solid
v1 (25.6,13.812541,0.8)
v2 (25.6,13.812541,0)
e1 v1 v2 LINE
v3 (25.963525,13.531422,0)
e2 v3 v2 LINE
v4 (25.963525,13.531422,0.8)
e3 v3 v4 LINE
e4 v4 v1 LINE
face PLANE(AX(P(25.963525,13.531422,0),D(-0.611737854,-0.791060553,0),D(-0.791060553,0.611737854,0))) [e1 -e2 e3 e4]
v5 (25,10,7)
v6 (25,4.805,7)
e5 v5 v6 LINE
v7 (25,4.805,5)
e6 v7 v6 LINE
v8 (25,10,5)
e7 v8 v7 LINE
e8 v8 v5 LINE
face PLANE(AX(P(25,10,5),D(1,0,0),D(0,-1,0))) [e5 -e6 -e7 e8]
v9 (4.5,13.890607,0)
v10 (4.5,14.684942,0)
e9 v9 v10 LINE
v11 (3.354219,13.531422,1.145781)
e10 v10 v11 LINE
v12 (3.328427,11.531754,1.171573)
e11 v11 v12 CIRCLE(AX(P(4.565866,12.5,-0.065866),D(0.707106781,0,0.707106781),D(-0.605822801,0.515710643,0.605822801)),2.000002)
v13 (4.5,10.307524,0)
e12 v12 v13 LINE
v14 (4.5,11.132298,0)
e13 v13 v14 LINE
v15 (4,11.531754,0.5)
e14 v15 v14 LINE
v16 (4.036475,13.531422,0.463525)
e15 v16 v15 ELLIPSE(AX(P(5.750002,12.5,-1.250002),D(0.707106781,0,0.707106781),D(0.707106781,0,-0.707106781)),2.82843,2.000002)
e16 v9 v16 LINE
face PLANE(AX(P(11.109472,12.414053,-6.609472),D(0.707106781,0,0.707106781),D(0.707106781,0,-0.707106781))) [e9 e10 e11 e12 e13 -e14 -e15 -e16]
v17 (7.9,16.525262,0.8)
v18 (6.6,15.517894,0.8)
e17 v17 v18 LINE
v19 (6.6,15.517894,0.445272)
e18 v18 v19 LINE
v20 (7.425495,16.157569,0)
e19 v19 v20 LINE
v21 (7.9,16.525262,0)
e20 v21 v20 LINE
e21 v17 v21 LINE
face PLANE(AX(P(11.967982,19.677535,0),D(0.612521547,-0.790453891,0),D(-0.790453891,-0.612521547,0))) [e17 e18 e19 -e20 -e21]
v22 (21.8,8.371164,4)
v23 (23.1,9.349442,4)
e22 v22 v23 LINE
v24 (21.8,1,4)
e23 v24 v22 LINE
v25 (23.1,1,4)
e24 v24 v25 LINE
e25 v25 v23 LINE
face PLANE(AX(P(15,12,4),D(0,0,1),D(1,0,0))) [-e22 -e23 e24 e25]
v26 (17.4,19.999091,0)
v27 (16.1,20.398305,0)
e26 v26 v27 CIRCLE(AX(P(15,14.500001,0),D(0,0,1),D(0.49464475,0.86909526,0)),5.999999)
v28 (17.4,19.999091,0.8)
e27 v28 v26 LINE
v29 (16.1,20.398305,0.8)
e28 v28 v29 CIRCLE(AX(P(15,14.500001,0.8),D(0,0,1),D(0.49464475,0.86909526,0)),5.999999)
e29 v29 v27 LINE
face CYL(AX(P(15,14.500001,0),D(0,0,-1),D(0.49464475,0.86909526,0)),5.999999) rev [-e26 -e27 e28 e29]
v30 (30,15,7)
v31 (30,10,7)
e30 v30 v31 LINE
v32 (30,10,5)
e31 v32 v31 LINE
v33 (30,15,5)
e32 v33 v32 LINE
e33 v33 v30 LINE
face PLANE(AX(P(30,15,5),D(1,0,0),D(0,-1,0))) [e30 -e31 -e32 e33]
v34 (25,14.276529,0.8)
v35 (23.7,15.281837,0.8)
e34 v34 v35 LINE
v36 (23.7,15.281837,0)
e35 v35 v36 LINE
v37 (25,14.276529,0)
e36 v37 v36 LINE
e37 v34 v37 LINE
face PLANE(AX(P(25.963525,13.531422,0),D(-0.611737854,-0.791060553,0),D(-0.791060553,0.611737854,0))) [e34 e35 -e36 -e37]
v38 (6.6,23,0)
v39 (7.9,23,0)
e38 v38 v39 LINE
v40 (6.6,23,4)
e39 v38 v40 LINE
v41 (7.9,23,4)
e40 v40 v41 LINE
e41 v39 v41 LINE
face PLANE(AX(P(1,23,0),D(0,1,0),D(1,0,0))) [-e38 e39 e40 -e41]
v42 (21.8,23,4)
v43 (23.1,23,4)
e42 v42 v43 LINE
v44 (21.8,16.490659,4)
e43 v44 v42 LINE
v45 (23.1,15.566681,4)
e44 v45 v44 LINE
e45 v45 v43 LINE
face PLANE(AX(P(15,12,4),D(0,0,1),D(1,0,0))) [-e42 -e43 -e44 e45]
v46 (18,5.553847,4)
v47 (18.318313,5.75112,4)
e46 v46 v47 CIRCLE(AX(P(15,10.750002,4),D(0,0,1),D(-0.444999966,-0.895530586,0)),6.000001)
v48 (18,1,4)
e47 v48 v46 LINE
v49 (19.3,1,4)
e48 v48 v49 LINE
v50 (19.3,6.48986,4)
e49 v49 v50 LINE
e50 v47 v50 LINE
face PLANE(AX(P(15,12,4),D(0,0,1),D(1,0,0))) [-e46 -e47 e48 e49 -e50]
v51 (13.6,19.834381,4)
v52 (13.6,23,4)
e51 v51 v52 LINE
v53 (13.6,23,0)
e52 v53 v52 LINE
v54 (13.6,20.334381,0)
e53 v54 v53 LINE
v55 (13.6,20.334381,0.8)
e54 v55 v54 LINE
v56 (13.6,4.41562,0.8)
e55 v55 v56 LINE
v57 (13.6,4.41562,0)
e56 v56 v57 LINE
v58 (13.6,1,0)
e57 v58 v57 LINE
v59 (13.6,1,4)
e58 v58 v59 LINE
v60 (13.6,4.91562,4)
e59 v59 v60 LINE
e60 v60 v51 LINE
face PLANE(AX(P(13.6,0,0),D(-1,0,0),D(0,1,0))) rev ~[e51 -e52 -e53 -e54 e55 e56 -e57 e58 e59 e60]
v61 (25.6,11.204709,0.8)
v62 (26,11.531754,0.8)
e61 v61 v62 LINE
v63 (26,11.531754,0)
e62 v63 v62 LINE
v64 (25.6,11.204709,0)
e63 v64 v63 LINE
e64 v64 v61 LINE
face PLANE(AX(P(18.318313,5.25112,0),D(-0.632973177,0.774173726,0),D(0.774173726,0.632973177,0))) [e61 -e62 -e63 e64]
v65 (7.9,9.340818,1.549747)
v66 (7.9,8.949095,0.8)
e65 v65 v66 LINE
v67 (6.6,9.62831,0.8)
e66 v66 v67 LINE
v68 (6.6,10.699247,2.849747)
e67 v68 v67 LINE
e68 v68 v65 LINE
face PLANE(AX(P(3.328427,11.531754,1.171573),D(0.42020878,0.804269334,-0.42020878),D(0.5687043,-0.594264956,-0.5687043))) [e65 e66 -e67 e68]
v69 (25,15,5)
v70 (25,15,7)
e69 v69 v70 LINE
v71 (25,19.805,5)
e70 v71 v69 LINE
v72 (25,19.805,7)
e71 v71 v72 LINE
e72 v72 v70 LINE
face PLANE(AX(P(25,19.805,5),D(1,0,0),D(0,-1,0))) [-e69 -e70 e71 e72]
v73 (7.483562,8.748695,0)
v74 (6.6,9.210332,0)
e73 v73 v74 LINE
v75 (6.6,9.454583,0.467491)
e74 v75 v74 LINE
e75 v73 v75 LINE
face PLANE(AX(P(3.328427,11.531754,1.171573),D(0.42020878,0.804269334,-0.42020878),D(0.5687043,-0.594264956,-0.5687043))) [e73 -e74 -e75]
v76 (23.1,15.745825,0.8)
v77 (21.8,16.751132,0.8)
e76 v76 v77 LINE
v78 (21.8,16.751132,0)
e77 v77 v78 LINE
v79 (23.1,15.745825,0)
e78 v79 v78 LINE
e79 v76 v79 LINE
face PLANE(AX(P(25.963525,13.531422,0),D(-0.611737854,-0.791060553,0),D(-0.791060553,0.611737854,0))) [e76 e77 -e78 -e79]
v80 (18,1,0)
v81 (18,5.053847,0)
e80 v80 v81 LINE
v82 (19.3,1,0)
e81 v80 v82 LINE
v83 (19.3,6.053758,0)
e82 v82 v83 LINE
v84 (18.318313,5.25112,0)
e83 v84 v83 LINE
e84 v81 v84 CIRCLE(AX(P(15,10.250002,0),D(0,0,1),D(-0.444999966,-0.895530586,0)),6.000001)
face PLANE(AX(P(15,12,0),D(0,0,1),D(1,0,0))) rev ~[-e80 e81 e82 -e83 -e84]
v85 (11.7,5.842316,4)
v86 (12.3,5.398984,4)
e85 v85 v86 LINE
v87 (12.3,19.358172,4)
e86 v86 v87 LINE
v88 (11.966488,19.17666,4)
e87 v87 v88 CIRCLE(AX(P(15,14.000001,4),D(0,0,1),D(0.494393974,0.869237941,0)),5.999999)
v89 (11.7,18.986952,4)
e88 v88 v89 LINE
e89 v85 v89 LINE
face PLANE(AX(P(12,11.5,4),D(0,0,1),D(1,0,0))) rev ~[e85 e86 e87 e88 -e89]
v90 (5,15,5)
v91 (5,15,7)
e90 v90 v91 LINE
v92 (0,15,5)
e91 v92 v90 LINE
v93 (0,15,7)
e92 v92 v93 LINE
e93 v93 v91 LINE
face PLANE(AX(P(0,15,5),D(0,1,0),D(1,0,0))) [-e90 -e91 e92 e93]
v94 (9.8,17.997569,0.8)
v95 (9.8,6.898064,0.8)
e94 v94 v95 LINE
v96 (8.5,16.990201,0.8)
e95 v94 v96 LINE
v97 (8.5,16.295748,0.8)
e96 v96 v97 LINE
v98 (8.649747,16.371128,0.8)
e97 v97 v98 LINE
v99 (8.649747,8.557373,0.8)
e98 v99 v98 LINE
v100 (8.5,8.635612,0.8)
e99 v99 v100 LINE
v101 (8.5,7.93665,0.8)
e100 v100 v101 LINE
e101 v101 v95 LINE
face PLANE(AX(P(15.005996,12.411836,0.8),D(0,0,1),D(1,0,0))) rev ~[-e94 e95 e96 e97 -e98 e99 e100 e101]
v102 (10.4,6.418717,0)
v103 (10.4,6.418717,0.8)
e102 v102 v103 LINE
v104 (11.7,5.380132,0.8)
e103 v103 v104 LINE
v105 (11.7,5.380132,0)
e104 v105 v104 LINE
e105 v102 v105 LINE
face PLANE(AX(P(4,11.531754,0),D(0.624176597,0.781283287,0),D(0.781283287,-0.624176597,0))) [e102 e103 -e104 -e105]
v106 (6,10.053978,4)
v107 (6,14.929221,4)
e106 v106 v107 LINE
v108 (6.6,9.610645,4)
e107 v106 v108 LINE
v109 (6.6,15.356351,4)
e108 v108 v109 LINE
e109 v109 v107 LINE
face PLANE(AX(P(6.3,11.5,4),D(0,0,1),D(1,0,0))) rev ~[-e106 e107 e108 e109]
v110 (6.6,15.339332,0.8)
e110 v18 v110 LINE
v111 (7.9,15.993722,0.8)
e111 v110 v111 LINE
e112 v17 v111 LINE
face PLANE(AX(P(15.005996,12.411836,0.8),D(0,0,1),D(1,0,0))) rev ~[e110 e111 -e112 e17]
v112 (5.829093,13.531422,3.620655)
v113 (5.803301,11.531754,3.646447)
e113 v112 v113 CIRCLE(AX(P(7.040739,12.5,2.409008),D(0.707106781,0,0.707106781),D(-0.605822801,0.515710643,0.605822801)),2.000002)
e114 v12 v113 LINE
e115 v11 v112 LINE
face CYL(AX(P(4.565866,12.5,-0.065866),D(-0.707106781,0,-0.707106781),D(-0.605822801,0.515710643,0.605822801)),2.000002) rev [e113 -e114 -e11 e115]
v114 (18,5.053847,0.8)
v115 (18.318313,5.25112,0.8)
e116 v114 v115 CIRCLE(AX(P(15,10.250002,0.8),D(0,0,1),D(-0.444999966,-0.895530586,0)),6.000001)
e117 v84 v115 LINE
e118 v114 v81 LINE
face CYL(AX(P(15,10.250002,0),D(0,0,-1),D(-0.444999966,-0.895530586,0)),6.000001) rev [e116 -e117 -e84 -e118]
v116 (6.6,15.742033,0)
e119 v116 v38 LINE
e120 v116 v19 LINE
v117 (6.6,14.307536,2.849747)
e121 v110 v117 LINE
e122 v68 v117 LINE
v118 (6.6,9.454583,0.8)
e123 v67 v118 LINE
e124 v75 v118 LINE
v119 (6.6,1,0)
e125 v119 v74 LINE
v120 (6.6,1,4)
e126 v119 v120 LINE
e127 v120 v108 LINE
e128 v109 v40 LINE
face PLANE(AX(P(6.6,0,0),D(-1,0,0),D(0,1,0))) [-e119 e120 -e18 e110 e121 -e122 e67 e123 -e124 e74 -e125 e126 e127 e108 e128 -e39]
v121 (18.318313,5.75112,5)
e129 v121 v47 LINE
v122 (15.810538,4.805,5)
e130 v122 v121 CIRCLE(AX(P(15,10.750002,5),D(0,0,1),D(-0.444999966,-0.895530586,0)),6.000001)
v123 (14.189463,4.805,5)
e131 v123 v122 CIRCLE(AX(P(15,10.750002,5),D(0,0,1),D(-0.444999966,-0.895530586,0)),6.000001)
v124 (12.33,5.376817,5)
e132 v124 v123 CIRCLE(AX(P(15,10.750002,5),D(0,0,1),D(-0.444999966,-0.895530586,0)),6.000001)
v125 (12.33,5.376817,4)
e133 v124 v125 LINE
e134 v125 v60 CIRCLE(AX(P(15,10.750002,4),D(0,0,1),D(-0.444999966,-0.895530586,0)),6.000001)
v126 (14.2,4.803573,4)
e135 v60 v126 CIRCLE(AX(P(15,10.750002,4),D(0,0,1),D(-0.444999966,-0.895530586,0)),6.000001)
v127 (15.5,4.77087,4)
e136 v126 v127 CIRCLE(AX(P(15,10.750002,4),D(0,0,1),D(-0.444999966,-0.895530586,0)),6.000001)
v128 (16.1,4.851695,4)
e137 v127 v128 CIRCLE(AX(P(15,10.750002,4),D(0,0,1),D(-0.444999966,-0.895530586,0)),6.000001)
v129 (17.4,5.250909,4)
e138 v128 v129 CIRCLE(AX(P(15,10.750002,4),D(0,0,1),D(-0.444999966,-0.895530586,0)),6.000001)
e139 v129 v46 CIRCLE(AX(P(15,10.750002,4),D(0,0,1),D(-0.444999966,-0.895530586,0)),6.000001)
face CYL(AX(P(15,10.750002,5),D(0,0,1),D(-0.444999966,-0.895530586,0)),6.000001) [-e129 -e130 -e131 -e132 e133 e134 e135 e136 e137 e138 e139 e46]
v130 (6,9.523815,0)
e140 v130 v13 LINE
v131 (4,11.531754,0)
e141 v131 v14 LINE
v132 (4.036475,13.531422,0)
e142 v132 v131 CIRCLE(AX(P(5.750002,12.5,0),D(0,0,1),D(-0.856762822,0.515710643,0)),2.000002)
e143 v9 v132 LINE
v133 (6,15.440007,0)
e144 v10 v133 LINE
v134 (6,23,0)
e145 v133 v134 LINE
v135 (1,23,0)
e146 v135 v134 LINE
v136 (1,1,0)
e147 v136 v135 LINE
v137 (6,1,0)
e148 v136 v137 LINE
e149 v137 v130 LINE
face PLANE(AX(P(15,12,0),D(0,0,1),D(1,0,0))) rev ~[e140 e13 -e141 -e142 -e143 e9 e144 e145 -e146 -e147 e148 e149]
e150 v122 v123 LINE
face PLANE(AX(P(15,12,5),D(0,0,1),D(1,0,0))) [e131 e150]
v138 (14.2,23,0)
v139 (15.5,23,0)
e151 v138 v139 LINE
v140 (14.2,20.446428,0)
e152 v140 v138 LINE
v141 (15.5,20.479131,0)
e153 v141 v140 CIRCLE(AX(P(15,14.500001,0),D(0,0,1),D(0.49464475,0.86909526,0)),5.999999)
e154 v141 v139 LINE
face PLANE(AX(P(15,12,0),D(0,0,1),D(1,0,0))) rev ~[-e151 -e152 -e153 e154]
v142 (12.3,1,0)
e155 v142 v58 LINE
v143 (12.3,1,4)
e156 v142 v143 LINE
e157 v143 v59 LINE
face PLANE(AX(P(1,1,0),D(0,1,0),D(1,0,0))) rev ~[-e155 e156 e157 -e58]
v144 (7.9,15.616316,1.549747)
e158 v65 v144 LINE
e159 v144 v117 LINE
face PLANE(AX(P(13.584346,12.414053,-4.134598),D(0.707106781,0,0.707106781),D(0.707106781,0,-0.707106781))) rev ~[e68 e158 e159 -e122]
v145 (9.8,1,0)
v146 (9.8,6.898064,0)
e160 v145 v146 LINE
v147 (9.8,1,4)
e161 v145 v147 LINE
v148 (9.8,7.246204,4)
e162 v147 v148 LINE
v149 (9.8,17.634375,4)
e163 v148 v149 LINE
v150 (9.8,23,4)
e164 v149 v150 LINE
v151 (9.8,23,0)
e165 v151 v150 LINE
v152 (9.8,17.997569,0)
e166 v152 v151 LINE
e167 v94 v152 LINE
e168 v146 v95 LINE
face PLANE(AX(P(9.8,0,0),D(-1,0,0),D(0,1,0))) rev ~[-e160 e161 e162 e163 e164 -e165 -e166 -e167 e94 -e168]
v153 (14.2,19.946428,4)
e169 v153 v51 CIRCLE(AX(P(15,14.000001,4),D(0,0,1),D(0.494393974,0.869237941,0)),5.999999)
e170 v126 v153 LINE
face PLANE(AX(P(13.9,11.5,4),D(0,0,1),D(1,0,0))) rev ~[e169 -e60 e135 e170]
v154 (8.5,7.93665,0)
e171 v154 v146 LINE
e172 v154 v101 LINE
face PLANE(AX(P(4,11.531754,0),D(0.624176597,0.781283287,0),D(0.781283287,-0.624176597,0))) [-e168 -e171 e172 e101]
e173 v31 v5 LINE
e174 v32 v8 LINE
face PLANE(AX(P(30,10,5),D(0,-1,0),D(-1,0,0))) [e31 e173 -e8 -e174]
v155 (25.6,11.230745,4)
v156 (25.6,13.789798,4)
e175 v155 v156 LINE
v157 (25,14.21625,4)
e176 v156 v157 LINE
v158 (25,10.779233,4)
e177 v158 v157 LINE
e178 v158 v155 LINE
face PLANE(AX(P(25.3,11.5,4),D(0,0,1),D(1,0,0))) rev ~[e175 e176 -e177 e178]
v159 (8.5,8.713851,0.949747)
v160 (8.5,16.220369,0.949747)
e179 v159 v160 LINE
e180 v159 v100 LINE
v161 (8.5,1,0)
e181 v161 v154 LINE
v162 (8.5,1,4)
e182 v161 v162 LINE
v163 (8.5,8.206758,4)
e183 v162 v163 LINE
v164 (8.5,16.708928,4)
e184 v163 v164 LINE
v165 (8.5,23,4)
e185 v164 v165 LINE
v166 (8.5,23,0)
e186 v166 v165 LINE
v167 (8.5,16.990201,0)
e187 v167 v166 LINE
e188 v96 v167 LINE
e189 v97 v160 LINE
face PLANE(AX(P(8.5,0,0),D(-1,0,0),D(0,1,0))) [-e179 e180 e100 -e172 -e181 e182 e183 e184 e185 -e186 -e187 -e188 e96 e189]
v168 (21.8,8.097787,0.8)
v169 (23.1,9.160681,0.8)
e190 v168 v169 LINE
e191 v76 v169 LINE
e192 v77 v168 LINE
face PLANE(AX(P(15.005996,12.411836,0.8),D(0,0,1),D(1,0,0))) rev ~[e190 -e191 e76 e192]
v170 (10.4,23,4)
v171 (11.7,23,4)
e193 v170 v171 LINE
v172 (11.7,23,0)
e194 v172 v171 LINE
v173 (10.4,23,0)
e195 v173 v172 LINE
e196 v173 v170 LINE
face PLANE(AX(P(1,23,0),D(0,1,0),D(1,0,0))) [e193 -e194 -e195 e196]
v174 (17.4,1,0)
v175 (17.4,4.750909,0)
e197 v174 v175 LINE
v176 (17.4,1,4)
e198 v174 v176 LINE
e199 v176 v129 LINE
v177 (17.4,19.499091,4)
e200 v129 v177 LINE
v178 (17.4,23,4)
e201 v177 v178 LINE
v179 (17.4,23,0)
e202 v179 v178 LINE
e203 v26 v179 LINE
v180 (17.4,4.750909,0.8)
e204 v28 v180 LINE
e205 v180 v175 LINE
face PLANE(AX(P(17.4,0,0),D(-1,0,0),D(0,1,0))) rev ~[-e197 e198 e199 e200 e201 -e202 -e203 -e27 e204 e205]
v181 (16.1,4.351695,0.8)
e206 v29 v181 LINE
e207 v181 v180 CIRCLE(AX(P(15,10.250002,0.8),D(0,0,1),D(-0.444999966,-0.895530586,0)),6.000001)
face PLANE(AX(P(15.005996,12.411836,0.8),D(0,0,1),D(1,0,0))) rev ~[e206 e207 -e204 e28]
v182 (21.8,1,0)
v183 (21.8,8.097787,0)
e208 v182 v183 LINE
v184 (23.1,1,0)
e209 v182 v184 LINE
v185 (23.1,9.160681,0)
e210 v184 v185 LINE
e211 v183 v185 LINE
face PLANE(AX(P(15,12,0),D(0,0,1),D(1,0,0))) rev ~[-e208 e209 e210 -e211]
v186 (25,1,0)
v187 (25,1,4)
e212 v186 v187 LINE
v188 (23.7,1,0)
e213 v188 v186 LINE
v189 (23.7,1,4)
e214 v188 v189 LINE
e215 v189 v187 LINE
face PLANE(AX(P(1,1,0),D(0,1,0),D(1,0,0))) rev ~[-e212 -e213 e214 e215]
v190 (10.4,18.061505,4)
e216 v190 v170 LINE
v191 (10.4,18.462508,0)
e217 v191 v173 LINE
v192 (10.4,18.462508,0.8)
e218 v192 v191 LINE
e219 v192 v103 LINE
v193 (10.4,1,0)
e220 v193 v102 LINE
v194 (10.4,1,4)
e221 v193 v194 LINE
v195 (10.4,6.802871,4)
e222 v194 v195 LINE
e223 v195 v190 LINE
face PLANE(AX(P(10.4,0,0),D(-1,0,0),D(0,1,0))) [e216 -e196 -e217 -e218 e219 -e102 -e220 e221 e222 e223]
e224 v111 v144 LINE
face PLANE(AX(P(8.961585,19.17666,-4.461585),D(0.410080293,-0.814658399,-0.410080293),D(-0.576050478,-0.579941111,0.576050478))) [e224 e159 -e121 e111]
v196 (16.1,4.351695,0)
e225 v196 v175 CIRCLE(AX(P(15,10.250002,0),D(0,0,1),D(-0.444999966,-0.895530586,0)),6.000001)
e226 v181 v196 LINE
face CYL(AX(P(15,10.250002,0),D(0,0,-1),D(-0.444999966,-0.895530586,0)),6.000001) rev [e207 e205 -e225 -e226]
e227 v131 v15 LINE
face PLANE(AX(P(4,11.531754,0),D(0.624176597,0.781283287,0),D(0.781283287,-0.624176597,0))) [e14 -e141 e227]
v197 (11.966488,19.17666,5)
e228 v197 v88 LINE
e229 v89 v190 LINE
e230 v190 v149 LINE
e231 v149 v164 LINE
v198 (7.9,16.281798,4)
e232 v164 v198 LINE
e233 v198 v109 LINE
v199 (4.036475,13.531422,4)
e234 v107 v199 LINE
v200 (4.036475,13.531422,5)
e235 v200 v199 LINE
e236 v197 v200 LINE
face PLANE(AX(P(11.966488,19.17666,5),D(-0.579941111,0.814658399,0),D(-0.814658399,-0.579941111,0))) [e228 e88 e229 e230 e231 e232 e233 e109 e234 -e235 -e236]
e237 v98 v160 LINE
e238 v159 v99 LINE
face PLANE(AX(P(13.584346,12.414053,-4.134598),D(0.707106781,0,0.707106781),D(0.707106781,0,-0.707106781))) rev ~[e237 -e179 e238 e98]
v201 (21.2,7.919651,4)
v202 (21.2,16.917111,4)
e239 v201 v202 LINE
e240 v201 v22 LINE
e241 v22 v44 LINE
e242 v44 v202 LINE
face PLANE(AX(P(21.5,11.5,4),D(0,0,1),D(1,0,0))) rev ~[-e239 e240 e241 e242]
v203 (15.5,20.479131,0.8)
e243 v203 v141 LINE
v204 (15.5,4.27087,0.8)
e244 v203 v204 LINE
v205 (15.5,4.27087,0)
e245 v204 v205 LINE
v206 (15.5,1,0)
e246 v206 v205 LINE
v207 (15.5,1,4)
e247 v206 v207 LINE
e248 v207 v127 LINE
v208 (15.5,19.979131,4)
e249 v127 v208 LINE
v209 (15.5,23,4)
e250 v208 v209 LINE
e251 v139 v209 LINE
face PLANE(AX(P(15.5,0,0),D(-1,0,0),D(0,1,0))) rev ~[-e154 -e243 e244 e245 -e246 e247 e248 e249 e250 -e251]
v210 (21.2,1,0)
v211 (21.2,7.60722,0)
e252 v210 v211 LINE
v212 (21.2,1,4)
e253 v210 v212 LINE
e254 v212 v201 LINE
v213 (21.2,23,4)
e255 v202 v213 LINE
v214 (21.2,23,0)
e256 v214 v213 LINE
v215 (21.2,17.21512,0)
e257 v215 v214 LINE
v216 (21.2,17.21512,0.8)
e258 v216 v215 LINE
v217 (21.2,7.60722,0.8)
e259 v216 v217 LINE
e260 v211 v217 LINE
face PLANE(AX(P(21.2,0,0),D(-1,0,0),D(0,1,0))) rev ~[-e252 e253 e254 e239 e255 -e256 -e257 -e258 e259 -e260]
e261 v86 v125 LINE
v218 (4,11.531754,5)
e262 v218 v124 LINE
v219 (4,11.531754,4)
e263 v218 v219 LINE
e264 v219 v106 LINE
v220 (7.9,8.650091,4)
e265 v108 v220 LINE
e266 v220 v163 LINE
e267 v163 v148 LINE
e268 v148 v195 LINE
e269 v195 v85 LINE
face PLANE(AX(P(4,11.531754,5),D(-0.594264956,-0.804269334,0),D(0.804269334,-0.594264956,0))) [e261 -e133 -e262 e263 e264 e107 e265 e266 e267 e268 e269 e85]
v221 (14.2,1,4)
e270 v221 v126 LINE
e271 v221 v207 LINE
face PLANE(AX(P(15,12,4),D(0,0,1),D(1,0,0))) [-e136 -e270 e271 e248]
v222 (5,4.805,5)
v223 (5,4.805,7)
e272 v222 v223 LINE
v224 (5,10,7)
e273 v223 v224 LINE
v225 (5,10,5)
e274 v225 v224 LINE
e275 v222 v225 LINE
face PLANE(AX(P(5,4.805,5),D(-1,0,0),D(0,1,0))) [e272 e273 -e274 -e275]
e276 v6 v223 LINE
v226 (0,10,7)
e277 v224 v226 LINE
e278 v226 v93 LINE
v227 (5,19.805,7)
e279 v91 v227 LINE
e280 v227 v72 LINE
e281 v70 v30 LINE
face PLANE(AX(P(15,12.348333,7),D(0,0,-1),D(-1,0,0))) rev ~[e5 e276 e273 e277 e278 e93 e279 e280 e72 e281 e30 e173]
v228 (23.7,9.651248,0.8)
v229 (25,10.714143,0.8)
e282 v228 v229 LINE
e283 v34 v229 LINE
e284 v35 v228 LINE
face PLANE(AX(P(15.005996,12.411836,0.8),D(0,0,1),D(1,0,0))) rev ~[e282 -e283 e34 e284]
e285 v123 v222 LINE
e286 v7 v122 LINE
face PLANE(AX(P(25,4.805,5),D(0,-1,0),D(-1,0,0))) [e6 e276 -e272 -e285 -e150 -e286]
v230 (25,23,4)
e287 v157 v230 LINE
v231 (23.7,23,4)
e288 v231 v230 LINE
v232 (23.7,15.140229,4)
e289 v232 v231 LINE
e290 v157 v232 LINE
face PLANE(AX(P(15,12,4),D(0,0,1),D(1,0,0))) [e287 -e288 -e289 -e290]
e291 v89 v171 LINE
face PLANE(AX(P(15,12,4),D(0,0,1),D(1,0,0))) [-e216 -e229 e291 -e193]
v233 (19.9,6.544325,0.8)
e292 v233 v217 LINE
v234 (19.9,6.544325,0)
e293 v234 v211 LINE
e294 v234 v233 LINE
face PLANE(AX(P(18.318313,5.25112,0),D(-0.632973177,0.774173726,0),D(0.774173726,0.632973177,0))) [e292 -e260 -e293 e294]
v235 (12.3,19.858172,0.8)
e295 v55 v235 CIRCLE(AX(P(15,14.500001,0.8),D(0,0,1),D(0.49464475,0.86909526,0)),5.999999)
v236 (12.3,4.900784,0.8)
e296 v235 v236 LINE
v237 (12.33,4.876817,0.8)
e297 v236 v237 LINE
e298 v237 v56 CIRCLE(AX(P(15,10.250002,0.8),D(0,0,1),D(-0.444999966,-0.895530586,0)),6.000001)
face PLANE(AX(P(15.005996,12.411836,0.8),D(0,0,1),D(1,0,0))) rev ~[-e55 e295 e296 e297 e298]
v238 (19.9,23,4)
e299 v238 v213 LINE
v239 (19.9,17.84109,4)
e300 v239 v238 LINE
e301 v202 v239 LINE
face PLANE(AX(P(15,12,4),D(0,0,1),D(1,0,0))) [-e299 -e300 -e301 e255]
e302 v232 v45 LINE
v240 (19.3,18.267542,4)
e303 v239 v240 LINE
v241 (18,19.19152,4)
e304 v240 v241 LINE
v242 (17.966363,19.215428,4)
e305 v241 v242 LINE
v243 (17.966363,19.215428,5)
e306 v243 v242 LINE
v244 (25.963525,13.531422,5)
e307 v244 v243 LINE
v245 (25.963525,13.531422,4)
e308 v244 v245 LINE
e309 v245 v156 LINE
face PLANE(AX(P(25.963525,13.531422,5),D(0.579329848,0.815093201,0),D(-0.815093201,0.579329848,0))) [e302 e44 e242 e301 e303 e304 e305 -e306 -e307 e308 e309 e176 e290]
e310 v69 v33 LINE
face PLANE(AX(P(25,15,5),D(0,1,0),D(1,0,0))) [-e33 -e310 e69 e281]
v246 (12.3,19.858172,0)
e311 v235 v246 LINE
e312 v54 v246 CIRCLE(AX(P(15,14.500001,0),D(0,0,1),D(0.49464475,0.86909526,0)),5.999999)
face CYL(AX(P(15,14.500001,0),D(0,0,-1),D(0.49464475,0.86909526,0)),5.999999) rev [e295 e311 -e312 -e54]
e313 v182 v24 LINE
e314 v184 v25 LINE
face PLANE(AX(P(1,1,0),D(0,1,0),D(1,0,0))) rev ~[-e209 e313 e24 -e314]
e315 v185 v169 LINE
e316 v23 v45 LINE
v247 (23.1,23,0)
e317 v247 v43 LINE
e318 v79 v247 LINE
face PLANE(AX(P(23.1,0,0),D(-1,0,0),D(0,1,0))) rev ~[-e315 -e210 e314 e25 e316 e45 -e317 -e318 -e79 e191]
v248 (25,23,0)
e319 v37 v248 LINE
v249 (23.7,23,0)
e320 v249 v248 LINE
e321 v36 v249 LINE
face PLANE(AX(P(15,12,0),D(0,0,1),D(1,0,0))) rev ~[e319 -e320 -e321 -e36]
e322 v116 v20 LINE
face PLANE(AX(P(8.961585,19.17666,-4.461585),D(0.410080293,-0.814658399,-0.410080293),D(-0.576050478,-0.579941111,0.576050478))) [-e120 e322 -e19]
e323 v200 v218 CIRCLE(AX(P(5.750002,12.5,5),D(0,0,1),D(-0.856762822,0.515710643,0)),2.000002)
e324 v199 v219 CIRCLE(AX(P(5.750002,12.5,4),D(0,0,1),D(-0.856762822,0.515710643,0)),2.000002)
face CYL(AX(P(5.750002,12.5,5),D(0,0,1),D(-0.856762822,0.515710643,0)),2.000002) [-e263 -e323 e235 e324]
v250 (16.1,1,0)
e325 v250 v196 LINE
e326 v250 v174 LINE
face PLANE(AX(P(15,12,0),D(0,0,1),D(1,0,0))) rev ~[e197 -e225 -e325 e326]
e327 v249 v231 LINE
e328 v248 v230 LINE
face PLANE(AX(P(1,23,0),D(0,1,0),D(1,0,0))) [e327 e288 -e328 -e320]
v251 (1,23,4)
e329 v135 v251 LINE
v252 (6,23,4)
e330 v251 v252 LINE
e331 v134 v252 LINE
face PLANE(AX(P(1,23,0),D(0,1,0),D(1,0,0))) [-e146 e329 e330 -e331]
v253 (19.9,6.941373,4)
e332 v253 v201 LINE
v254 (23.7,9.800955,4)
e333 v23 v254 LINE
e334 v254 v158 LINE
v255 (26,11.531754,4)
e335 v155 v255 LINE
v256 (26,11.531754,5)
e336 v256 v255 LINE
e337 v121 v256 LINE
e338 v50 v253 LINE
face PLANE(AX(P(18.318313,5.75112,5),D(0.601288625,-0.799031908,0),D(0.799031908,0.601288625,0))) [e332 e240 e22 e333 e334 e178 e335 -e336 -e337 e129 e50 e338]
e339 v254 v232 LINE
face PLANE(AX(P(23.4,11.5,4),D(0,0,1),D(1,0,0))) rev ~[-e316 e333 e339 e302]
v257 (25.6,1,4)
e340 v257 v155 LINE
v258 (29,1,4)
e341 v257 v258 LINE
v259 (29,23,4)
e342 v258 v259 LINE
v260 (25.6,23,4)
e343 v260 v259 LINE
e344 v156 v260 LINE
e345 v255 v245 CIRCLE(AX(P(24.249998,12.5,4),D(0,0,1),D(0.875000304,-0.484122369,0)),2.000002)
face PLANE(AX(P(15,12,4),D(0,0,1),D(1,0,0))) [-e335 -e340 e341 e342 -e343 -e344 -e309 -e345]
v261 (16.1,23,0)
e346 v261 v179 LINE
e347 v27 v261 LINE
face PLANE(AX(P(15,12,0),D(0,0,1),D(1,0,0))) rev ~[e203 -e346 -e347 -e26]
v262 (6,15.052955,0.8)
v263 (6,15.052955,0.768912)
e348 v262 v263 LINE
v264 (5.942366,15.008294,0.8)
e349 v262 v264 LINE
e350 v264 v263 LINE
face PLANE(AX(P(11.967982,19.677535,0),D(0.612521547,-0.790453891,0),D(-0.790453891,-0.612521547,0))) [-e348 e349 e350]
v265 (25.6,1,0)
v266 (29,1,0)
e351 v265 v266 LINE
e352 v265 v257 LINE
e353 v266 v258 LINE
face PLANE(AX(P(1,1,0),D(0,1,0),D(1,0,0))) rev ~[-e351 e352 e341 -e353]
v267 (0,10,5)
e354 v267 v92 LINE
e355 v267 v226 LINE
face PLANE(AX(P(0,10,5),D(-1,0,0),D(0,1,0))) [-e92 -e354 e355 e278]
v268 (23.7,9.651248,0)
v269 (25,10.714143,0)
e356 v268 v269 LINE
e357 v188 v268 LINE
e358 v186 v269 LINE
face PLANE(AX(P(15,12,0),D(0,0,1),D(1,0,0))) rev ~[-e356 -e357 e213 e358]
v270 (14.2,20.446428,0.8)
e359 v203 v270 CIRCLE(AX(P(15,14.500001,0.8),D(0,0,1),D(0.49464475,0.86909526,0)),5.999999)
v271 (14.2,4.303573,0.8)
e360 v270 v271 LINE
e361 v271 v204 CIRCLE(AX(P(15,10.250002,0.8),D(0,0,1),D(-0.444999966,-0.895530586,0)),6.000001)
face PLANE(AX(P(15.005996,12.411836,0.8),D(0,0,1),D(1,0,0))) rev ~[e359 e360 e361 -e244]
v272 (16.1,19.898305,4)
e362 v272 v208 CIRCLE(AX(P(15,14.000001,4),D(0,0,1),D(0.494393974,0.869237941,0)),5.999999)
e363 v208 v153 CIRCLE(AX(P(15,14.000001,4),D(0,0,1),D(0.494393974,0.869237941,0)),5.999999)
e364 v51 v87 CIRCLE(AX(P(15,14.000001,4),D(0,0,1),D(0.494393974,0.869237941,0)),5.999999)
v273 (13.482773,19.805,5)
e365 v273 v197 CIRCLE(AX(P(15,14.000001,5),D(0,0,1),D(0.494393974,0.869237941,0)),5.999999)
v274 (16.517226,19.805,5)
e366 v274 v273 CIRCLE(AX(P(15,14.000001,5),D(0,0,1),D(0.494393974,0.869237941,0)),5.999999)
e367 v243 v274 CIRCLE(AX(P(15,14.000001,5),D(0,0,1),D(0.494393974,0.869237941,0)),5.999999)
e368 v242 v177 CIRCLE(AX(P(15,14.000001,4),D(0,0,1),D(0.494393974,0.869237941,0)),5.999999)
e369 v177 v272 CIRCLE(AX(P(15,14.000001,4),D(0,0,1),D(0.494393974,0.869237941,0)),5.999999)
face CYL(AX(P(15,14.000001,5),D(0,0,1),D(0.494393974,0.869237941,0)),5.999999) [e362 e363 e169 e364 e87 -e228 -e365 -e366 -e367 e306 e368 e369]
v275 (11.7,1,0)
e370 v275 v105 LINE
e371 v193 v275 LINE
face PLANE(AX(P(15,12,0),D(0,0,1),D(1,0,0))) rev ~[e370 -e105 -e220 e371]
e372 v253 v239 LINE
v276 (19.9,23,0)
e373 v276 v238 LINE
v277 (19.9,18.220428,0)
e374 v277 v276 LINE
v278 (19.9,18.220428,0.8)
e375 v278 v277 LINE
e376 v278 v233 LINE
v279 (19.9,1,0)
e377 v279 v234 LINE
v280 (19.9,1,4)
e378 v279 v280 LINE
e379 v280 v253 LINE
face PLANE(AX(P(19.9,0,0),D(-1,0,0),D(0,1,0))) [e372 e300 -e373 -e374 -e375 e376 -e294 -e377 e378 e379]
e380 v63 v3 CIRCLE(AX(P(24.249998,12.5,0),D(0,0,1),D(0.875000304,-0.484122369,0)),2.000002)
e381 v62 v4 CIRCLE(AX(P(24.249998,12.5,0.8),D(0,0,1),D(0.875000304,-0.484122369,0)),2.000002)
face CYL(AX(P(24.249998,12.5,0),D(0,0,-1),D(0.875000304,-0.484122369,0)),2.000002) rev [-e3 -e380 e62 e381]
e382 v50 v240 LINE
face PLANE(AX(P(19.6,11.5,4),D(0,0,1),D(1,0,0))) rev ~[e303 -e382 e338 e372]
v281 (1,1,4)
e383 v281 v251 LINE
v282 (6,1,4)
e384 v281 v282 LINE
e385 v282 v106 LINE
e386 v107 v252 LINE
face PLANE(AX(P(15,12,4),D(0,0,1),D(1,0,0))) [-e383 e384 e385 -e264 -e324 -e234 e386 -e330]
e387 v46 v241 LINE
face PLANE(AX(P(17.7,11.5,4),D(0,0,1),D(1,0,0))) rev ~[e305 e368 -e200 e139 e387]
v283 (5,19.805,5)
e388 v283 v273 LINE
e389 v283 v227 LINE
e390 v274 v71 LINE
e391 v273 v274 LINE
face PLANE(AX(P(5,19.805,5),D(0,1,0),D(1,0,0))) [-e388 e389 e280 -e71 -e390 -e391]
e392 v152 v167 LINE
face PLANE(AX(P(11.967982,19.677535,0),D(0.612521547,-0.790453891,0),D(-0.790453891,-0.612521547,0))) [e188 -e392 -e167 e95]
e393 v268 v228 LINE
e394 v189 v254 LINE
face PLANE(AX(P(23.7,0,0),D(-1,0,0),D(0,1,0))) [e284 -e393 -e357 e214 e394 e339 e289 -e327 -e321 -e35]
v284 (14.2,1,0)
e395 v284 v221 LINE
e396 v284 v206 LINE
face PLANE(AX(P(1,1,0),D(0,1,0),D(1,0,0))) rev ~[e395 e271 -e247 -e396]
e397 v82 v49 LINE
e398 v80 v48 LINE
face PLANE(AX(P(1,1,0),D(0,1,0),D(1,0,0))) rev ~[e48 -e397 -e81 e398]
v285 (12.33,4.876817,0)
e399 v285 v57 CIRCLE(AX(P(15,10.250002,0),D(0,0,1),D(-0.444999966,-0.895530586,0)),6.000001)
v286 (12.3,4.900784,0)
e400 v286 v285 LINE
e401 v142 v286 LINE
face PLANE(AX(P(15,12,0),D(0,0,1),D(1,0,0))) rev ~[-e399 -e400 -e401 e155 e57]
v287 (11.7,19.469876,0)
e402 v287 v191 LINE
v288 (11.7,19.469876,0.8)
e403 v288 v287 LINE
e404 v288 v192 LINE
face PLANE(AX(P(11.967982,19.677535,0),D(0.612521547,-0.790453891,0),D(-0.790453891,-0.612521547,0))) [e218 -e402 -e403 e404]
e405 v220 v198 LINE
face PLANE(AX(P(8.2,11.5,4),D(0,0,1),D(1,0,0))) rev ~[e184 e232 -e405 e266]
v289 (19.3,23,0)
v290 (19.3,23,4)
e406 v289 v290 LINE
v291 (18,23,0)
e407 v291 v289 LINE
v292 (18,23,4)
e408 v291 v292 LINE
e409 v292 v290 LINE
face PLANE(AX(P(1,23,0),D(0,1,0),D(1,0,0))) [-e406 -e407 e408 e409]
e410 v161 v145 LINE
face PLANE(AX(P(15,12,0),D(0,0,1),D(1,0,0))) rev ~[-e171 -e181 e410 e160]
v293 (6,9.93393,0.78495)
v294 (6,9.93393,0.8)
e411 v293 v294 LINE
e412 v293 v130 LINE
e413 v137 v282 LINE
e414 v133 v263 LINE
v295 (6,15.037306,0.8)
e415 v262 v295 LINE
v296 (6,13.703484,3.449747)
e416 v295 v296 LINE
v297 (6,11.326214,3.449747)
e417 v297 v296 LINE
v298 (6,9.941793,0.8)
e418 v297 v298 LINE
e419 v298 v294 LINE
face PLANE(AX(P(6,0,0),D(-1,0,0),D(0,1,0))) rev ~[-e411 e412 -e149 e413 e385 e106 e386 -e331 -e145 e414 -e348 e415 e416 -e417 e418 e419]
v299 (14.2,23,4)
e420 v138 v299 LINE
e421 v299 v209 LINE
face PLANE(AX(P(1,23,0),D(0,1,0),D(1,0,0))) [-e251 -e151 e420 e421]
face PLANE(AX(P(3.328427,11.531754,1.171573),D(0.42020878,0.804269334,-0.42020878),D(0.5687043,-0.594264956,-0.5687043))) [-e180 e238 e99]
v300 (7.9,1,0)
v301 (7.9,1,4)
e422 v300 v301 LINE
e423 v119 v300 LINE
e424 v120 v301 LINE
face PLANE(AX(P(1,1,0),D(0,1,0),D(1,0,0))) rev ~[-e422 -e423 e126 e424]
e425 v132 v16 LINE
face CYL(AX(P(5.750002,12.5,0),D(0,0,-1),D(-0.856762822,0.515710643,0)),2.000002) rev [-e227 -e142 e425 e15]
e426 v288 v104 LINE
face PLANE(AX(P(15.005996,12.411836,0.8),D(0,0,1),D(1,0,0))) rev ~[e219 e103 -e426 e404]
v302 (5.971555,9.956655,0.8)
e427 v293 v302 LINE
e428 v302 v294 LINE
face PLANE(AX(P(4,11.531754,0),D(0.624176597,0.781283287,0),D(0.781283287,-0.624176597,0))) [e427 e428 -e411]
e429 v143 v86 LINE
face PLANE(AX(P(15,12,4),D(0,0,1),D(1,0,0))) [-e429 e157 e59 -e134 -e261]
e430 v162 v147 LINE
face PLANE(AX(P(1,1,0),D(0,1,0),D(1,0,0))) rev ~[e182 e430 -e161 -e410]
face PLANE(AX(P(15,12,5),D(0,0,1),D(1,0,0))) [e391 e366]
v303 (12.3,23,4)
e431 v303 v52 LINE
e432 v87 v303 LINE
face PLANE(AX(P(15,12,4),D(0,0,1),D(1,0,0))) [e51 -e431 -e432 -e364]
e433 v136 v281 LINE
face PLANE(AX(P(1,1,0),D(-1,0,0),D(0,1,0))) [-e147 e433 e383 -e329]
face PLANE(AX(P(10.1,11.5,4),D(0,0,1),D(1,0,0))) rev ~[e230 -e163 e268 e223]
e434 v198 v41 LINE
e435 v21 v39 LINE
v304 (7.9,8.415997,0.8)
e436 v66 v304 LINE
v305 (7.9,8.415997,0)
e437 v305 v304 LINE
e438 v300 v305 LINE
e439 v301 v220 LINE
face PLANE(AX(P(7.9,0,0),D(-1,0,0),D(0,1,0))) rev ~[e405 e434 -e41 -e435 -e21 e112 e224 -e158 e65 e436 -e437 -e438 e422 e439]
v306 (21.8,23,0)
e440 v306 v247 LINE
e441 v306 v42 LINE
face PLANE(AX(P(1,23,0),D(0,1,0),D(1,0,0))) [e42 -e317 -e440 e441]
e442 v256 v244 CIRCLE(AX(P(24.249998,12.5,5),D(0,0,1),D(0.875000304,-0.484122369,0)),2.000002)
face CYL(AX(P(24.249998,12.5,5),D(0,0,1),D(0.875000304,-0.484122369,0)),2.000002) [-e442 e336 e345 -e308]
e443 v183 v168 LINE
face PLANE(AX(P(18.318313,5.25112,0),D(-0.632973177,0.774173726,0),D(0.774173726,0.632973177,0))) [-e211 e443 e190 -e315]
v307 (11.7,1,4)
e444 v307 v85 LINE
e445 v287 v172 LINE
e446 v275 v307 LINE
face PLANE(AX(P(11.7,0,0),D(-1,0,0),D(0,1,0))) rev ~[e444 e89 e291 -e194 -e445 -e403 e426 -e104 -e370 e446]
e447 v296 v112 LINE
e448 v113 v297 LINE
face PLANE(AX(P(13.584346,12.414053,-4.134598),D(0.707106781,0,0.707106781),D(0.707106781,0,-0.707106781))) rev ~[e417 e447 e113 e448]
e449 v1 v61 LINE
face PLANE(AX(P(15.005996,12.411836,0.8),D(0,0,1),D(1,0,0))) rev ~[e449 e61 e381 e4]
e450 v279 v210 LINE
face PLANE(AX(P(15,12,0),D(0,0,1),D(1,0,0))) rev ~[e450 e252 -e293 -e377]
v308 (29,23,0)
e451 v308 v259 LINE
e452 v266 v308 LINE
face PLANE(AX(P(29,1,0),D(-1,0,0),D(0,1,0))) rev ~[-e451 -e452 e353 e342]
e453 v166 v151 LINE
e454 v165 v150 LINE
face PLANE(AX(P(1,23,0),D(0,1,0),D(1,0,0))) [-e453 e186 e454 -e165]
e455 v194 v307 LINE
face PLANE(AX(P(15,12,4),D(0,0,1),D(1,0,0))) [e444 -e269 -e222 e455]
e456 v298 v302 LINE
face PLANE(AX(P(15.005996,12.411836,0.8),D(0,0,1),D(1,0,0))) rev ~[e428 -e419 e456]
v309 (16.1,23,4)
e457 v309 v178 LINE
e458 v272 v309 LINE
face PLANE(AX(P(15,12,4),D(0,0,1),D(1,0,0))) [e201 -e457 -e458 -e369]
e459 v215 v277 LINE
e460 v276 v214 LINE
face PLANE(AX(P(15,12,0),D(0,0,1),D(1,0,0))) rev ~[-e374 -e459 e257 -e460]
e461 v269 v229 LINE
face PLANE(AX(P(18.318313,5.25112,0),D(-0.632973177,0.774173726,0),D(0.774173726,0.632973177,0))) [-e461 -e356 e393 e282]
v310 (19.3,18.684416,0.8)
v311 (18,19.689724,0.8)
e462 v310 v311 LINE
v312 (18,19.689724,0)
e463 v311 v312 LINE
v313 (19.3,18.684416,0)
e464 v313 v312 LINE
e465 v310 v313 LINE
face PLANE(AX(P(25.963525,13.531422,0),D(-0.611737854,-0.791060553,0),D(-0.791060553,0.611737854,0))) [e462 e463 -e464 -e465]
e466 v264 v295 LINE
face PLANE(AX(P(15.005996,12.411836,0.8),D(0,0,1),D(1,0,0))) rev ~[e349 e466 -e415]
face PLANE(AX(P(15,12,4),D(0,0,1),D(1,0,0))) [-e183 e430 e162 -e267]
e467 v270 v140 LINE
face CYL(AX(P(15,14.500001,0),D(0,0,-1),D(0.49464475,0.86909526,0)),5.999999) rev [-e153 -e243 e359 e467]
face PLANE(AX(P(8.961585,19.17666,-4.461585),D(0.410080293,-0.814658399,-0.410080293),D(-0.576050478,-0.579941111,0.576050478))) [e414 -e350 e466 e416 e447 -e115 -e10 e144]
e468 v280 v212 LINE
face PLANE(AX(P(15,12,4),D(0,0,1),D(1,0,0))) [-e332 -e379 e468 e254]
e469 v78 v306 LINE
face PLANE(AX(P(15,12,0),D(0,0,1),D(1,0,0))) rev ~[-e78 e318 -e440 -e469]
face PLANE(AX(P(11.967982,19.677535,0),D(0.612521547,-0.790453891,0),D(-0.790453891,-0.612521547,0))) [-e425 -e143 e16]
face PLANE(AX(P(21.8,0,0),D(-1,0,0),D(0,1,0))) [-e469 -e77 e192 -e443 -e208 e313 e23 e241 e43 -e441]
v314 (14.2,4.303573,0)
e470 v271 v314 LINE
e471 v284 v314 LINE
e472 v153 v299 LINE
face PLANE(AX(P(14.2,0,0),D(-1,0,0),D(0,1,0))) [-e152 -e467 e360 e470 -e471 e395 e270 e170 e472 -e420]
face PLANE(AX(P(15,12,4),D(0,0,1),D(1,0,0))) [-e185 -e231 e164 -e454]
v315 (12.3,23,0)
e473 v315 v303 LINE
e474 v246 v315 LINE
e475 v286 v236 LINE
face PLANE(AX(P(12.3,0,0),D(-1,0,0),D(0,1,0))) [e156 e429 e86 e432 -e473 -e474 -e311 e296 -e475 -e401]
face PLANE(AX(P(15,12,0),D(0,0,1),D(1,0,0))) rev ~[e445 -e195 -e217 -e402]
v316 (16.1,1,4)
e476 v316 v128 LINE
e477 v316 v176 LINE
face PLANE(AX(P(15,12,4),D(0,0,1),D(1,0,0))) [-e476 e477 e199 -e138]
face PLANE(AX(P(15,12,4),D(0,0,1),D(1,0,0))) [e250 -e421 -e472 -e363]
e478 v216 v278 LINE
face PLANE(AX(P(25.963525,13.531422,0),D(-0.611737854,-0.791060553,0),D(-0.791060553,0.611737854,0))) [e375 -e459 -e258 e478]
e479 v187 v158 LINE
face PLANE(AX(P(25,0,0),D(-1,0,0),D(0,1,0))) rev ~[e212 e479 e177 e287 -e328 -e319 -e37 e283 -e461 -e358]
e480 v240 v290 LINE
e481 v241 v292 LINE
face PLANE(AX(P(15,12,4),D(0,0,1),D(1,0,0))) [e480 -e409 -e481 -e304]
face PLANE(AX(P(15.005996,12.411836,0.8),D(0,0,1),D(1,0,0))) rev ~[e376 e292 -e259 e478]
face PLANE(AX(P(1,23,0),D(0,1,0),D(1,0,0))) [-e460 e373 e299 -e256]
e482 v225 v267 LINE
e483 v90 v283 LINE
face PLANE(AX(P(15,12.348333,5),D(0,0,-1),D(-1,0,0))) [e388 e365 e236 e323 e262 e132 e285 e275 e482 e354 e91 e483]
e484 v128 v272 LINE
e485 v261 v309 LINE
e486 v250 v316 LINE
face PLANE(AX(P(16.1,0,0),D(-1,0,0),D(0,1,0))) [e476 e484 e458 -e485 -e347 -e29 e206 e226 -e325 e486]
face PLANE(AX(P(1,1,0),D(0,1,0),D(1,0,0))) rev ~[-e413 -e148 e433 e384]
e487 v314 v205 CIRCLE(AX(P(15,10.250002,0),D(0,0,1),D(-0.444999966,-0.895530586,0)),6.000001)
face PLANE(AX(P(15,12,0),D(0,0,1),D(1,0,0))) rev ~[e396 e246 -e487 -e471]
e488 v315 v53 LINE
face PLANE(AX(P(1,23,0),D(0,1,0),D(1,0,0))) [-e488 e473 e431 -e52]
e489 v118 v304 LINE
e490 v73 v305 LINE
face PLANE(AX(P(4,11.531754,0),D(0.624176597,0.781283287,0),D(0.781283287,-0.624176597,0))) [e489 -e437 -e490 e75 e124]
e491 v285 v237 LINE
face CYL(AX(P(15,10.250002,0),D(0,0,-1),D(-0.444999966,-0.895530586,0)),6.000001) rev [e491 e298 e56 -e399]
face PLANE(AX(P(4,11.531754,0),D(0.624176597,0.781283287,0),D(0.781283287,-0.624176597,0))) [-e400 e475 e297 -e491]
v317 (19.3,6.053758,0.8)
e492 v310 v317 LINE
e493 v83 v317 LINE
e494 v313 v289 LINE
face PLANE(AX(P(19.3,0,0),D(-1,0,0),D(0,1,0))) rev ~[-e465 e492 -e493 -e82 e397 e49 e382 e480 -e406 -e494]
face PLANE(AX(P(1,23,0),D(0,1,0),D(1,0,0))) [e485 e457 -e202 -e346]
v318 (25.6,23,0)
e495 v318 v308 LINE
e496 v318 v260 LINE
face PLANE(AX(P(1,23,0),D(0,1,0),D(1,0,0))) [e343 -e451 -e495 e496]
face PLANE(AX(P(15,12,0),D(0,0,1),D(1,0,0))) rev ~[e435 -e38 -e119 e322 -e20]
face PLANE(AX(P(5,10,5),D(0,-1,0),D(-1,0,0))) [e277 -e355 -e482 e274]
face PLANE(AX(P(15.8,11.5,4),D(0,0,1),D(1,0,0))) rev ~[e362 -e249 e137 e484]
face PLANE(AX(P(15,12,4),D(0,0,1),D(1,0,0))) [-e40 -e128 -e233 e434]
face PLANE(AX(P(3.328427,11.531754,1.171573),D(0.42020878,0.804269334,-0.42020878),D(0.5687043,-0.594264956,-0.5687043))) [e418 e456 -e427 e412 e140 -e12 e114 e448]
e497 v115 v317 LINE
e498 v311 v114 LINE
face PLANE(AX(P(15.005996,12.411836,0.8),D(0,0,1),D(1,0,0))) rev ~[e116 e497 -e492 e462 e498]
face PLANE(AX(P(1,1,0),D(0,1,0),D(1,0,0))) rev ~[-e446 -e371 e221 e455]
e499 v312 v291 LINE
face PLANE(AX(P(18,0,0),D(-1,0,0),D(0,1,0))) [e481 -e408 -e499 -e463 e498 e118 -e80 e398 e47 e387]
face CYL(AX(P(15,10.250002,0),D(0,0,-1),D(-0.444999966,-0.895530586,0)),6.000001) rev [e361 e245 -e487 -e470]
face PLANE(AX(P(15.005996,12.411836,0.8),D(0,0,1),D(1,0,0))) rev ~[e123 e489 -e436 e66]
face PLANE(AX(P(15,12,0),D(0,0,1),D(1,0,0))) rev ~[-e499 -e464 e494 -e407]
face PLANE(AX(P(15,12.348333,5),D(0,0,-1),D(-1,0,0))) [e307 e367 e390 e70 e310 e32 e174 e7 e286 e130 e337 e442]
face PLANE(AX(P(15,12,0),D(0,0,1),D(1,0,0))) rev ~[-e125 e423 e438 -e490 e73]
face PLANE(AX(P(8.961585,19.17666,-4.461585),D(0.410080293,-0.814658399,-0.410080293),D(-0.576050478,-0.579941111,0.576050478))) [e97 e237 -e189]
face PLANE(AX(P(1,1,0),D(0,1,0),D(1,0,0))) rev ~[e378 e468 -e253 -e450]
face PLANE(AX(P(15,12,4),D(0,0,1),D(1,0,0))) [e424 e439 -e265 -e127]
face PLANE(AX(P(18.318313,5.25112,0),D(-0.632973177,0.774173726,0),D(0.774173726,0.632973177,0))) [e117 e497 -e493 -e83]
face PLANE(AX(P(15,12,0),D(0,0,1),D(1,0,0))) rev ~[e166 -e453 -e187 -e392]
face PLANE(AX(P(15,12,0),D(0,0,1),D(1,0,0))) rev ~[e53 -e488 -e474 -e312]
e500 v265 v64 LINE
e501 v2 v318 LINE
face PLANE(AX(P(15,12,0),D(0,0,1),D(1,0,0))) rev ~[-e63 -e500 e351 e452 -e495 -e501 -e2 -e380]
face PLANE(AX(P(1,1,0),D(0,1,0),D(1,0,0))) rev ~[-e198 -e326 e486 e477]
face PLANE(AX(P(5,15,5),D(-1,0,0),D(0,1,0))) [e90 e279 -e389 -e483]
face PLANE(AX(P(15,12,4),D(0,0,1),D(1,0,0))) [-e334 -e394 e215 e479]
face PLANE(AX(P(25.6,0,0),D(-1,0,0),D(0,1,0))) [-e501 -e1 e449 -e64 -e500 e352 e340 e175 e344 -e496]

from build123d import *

# Parameters (mm, degrees)
SKETCH_W             = 28
SKETCH_H             = 22
PAD002_DEPTH         = 5
POCKET001_DEPTH      = 0.8
SKETCH002_W          = 0.6
SKETCH002_H          = 23
POCKET_DEPTH         = 4
LINEARPATTERN_COUNT  = 11
LINEARPATTERN_PITCH  = 1.9
POCKET002_DEPTH      = 3.5
SKETCH006_W          = 28
SKETCH006_H          = 22
POCKET005_DEPTH      = 1
POCKET005_DEPTH_BACK = 1
PAD_DEPTH            = 2


with BuildPart() as part:
    # Sketch → Pad002 (new body)
    with BuildSketch(Plane.XY):
        with Locations((15, 12)):
            Rectangle(SKETCH_W, SKETCH_H)
    extrude(amount=PAD002_DEPTH)

    # Sketch001 → Pocket001 (cut)
    with BuildSketch(Plane.XY):
        with BuildLine():
            ThreePointArc((17.967868, 19.714572), (14.962963, 20.499886), (11.967982, 19.677535))
            Line((11.967982, 19.677535), (4.036475, 13.531422))
            ThreePointArc((4.036475, 13.531422), (3.750333, 12.536475), (4, 11.531754))
            Line((4, 11.531754), (12.33, 4.876817))
            ThreePointArc((12.33, 4.876817), (15.374304, 4.261687), (18.318313, 5.25112))
            Line((18.318313, 5.25112), (26, 11.531754))
            ThreePointArc((26, 11.531754), (26.249667, 12.536475), (25.963525, 13.531422))
            Line((25.963525, 13.531422), (17.967868, 19.714572))
        make_face()
    extrude(amount=POCKET001_DEPTH, mode=Mode.SUBTRACT)

    # Sketch002 → Pocket (cut)
    with BuildSketch(Plane.XY):
        with Locations((6.3, 11.5)):
            Rectangle(SKETCH002_W, SKETCH002_H)
    pocket = extrude(amount=POCKET_DEPTH, mode=Mode.SUBTRACT)

    # LinearPattern: Pocket ×11
    with Locations(*[(i * LINEARPATTERN_PITCH, 0, 0) for i in range(1, LINEARPATTERN_COUNT)]):
        add(pocket, mode=Mode.SUBTRACT)

    # Sketch003 → Pocket002 (cut)
    with BuildSketch(Plane(origin=(0.5, 0, 4), x_dir=(0.707107, 0, -0.707107), z_dir=(0.707107, 0, 0.707107))):
        with BuildLine():
            ThreePointArc((17.966363, 19.215428), (14.961232, 19.999875), (11.966488, 19.17666))
            Line((11.966488, 19.17666), (4.036475, 13.531422))
            ThreePointArc((4.036475, 13.531422), (3.750333, 12.536475), (4, 11.531754))
            Line((4, 11.531754), (12.33, 5.376817))
            ThreePointArc((12.33, 5.376817), (15.374304, 4.761687), (18.318313, 5.75112))
            Line((18.318313, 5.75112), (26, 11.531754))
            ThreePointArc((26, 11.531754), (26.249667, 12.536475), (25.963525, 13.531422))
            Line((25.963525, 13.531422), (17.966363, 19.215428))
        make_face()
    extrude(amount=POCKET002_DEPTH, mode=Mode.SUBTRACT)

    # Sketch006 → Pocket005 (cut, two sides)
    with BuildSketch(Plane.XY.offset(5)) as pocket005_sk:
        with Locations((15, 12)):
            Rectangle(SKETCH006_W, SKETCH006_H)
        with BuildLine():
            ThreePointArc((17.966363, 19.215428), (14.961232, 19.999875), (11.966488, 19.17666))
            Line((11.966488, 19.17666), (4.036475, 13.531422))
            ThreePointArc((4.036475, 13.531422), (3.750333, 12.536475), (4, 11.531754))
            Line((4, 11.531754), (12.33, 5.376817))
            ThreePointArc((12.33, 5.376817), (15.374304, 4.761687), (18.318313, 5.75112))
            Line((18.318313, 5.75112), (26, 11.531754))
            ThreePointArc((26, 11.531754), (26.249667, 12.536475), (25.963525, 13.531422))
            Line((25.963525, 13.531422), (17.966363, 19.215428))
        make_face(mode=Mode.SUBTRACT)
    extrude(amount=-POCKET005_DEPTH, mode=Mode.SUBTRACT)
    extrude(pocket005_sk.sketch, amount=POCKET005_DEPTH_BACK, mode=Mode.SUBTRACT)

    # Sketch004 → Pad (join)
    with BuildSketch(Plane.XY.offset(5)):
        Polygon((5, 19.805), (25, 19.805), (25, 15), (30, 15), (30, 10), (25, 10), (25, 4.805), (5, 4.805), (5, 10), (0, 10), (0, 15), (5, 15), align=None)
    extrude(amount=PAD_DEPTH)


solid = part.part
